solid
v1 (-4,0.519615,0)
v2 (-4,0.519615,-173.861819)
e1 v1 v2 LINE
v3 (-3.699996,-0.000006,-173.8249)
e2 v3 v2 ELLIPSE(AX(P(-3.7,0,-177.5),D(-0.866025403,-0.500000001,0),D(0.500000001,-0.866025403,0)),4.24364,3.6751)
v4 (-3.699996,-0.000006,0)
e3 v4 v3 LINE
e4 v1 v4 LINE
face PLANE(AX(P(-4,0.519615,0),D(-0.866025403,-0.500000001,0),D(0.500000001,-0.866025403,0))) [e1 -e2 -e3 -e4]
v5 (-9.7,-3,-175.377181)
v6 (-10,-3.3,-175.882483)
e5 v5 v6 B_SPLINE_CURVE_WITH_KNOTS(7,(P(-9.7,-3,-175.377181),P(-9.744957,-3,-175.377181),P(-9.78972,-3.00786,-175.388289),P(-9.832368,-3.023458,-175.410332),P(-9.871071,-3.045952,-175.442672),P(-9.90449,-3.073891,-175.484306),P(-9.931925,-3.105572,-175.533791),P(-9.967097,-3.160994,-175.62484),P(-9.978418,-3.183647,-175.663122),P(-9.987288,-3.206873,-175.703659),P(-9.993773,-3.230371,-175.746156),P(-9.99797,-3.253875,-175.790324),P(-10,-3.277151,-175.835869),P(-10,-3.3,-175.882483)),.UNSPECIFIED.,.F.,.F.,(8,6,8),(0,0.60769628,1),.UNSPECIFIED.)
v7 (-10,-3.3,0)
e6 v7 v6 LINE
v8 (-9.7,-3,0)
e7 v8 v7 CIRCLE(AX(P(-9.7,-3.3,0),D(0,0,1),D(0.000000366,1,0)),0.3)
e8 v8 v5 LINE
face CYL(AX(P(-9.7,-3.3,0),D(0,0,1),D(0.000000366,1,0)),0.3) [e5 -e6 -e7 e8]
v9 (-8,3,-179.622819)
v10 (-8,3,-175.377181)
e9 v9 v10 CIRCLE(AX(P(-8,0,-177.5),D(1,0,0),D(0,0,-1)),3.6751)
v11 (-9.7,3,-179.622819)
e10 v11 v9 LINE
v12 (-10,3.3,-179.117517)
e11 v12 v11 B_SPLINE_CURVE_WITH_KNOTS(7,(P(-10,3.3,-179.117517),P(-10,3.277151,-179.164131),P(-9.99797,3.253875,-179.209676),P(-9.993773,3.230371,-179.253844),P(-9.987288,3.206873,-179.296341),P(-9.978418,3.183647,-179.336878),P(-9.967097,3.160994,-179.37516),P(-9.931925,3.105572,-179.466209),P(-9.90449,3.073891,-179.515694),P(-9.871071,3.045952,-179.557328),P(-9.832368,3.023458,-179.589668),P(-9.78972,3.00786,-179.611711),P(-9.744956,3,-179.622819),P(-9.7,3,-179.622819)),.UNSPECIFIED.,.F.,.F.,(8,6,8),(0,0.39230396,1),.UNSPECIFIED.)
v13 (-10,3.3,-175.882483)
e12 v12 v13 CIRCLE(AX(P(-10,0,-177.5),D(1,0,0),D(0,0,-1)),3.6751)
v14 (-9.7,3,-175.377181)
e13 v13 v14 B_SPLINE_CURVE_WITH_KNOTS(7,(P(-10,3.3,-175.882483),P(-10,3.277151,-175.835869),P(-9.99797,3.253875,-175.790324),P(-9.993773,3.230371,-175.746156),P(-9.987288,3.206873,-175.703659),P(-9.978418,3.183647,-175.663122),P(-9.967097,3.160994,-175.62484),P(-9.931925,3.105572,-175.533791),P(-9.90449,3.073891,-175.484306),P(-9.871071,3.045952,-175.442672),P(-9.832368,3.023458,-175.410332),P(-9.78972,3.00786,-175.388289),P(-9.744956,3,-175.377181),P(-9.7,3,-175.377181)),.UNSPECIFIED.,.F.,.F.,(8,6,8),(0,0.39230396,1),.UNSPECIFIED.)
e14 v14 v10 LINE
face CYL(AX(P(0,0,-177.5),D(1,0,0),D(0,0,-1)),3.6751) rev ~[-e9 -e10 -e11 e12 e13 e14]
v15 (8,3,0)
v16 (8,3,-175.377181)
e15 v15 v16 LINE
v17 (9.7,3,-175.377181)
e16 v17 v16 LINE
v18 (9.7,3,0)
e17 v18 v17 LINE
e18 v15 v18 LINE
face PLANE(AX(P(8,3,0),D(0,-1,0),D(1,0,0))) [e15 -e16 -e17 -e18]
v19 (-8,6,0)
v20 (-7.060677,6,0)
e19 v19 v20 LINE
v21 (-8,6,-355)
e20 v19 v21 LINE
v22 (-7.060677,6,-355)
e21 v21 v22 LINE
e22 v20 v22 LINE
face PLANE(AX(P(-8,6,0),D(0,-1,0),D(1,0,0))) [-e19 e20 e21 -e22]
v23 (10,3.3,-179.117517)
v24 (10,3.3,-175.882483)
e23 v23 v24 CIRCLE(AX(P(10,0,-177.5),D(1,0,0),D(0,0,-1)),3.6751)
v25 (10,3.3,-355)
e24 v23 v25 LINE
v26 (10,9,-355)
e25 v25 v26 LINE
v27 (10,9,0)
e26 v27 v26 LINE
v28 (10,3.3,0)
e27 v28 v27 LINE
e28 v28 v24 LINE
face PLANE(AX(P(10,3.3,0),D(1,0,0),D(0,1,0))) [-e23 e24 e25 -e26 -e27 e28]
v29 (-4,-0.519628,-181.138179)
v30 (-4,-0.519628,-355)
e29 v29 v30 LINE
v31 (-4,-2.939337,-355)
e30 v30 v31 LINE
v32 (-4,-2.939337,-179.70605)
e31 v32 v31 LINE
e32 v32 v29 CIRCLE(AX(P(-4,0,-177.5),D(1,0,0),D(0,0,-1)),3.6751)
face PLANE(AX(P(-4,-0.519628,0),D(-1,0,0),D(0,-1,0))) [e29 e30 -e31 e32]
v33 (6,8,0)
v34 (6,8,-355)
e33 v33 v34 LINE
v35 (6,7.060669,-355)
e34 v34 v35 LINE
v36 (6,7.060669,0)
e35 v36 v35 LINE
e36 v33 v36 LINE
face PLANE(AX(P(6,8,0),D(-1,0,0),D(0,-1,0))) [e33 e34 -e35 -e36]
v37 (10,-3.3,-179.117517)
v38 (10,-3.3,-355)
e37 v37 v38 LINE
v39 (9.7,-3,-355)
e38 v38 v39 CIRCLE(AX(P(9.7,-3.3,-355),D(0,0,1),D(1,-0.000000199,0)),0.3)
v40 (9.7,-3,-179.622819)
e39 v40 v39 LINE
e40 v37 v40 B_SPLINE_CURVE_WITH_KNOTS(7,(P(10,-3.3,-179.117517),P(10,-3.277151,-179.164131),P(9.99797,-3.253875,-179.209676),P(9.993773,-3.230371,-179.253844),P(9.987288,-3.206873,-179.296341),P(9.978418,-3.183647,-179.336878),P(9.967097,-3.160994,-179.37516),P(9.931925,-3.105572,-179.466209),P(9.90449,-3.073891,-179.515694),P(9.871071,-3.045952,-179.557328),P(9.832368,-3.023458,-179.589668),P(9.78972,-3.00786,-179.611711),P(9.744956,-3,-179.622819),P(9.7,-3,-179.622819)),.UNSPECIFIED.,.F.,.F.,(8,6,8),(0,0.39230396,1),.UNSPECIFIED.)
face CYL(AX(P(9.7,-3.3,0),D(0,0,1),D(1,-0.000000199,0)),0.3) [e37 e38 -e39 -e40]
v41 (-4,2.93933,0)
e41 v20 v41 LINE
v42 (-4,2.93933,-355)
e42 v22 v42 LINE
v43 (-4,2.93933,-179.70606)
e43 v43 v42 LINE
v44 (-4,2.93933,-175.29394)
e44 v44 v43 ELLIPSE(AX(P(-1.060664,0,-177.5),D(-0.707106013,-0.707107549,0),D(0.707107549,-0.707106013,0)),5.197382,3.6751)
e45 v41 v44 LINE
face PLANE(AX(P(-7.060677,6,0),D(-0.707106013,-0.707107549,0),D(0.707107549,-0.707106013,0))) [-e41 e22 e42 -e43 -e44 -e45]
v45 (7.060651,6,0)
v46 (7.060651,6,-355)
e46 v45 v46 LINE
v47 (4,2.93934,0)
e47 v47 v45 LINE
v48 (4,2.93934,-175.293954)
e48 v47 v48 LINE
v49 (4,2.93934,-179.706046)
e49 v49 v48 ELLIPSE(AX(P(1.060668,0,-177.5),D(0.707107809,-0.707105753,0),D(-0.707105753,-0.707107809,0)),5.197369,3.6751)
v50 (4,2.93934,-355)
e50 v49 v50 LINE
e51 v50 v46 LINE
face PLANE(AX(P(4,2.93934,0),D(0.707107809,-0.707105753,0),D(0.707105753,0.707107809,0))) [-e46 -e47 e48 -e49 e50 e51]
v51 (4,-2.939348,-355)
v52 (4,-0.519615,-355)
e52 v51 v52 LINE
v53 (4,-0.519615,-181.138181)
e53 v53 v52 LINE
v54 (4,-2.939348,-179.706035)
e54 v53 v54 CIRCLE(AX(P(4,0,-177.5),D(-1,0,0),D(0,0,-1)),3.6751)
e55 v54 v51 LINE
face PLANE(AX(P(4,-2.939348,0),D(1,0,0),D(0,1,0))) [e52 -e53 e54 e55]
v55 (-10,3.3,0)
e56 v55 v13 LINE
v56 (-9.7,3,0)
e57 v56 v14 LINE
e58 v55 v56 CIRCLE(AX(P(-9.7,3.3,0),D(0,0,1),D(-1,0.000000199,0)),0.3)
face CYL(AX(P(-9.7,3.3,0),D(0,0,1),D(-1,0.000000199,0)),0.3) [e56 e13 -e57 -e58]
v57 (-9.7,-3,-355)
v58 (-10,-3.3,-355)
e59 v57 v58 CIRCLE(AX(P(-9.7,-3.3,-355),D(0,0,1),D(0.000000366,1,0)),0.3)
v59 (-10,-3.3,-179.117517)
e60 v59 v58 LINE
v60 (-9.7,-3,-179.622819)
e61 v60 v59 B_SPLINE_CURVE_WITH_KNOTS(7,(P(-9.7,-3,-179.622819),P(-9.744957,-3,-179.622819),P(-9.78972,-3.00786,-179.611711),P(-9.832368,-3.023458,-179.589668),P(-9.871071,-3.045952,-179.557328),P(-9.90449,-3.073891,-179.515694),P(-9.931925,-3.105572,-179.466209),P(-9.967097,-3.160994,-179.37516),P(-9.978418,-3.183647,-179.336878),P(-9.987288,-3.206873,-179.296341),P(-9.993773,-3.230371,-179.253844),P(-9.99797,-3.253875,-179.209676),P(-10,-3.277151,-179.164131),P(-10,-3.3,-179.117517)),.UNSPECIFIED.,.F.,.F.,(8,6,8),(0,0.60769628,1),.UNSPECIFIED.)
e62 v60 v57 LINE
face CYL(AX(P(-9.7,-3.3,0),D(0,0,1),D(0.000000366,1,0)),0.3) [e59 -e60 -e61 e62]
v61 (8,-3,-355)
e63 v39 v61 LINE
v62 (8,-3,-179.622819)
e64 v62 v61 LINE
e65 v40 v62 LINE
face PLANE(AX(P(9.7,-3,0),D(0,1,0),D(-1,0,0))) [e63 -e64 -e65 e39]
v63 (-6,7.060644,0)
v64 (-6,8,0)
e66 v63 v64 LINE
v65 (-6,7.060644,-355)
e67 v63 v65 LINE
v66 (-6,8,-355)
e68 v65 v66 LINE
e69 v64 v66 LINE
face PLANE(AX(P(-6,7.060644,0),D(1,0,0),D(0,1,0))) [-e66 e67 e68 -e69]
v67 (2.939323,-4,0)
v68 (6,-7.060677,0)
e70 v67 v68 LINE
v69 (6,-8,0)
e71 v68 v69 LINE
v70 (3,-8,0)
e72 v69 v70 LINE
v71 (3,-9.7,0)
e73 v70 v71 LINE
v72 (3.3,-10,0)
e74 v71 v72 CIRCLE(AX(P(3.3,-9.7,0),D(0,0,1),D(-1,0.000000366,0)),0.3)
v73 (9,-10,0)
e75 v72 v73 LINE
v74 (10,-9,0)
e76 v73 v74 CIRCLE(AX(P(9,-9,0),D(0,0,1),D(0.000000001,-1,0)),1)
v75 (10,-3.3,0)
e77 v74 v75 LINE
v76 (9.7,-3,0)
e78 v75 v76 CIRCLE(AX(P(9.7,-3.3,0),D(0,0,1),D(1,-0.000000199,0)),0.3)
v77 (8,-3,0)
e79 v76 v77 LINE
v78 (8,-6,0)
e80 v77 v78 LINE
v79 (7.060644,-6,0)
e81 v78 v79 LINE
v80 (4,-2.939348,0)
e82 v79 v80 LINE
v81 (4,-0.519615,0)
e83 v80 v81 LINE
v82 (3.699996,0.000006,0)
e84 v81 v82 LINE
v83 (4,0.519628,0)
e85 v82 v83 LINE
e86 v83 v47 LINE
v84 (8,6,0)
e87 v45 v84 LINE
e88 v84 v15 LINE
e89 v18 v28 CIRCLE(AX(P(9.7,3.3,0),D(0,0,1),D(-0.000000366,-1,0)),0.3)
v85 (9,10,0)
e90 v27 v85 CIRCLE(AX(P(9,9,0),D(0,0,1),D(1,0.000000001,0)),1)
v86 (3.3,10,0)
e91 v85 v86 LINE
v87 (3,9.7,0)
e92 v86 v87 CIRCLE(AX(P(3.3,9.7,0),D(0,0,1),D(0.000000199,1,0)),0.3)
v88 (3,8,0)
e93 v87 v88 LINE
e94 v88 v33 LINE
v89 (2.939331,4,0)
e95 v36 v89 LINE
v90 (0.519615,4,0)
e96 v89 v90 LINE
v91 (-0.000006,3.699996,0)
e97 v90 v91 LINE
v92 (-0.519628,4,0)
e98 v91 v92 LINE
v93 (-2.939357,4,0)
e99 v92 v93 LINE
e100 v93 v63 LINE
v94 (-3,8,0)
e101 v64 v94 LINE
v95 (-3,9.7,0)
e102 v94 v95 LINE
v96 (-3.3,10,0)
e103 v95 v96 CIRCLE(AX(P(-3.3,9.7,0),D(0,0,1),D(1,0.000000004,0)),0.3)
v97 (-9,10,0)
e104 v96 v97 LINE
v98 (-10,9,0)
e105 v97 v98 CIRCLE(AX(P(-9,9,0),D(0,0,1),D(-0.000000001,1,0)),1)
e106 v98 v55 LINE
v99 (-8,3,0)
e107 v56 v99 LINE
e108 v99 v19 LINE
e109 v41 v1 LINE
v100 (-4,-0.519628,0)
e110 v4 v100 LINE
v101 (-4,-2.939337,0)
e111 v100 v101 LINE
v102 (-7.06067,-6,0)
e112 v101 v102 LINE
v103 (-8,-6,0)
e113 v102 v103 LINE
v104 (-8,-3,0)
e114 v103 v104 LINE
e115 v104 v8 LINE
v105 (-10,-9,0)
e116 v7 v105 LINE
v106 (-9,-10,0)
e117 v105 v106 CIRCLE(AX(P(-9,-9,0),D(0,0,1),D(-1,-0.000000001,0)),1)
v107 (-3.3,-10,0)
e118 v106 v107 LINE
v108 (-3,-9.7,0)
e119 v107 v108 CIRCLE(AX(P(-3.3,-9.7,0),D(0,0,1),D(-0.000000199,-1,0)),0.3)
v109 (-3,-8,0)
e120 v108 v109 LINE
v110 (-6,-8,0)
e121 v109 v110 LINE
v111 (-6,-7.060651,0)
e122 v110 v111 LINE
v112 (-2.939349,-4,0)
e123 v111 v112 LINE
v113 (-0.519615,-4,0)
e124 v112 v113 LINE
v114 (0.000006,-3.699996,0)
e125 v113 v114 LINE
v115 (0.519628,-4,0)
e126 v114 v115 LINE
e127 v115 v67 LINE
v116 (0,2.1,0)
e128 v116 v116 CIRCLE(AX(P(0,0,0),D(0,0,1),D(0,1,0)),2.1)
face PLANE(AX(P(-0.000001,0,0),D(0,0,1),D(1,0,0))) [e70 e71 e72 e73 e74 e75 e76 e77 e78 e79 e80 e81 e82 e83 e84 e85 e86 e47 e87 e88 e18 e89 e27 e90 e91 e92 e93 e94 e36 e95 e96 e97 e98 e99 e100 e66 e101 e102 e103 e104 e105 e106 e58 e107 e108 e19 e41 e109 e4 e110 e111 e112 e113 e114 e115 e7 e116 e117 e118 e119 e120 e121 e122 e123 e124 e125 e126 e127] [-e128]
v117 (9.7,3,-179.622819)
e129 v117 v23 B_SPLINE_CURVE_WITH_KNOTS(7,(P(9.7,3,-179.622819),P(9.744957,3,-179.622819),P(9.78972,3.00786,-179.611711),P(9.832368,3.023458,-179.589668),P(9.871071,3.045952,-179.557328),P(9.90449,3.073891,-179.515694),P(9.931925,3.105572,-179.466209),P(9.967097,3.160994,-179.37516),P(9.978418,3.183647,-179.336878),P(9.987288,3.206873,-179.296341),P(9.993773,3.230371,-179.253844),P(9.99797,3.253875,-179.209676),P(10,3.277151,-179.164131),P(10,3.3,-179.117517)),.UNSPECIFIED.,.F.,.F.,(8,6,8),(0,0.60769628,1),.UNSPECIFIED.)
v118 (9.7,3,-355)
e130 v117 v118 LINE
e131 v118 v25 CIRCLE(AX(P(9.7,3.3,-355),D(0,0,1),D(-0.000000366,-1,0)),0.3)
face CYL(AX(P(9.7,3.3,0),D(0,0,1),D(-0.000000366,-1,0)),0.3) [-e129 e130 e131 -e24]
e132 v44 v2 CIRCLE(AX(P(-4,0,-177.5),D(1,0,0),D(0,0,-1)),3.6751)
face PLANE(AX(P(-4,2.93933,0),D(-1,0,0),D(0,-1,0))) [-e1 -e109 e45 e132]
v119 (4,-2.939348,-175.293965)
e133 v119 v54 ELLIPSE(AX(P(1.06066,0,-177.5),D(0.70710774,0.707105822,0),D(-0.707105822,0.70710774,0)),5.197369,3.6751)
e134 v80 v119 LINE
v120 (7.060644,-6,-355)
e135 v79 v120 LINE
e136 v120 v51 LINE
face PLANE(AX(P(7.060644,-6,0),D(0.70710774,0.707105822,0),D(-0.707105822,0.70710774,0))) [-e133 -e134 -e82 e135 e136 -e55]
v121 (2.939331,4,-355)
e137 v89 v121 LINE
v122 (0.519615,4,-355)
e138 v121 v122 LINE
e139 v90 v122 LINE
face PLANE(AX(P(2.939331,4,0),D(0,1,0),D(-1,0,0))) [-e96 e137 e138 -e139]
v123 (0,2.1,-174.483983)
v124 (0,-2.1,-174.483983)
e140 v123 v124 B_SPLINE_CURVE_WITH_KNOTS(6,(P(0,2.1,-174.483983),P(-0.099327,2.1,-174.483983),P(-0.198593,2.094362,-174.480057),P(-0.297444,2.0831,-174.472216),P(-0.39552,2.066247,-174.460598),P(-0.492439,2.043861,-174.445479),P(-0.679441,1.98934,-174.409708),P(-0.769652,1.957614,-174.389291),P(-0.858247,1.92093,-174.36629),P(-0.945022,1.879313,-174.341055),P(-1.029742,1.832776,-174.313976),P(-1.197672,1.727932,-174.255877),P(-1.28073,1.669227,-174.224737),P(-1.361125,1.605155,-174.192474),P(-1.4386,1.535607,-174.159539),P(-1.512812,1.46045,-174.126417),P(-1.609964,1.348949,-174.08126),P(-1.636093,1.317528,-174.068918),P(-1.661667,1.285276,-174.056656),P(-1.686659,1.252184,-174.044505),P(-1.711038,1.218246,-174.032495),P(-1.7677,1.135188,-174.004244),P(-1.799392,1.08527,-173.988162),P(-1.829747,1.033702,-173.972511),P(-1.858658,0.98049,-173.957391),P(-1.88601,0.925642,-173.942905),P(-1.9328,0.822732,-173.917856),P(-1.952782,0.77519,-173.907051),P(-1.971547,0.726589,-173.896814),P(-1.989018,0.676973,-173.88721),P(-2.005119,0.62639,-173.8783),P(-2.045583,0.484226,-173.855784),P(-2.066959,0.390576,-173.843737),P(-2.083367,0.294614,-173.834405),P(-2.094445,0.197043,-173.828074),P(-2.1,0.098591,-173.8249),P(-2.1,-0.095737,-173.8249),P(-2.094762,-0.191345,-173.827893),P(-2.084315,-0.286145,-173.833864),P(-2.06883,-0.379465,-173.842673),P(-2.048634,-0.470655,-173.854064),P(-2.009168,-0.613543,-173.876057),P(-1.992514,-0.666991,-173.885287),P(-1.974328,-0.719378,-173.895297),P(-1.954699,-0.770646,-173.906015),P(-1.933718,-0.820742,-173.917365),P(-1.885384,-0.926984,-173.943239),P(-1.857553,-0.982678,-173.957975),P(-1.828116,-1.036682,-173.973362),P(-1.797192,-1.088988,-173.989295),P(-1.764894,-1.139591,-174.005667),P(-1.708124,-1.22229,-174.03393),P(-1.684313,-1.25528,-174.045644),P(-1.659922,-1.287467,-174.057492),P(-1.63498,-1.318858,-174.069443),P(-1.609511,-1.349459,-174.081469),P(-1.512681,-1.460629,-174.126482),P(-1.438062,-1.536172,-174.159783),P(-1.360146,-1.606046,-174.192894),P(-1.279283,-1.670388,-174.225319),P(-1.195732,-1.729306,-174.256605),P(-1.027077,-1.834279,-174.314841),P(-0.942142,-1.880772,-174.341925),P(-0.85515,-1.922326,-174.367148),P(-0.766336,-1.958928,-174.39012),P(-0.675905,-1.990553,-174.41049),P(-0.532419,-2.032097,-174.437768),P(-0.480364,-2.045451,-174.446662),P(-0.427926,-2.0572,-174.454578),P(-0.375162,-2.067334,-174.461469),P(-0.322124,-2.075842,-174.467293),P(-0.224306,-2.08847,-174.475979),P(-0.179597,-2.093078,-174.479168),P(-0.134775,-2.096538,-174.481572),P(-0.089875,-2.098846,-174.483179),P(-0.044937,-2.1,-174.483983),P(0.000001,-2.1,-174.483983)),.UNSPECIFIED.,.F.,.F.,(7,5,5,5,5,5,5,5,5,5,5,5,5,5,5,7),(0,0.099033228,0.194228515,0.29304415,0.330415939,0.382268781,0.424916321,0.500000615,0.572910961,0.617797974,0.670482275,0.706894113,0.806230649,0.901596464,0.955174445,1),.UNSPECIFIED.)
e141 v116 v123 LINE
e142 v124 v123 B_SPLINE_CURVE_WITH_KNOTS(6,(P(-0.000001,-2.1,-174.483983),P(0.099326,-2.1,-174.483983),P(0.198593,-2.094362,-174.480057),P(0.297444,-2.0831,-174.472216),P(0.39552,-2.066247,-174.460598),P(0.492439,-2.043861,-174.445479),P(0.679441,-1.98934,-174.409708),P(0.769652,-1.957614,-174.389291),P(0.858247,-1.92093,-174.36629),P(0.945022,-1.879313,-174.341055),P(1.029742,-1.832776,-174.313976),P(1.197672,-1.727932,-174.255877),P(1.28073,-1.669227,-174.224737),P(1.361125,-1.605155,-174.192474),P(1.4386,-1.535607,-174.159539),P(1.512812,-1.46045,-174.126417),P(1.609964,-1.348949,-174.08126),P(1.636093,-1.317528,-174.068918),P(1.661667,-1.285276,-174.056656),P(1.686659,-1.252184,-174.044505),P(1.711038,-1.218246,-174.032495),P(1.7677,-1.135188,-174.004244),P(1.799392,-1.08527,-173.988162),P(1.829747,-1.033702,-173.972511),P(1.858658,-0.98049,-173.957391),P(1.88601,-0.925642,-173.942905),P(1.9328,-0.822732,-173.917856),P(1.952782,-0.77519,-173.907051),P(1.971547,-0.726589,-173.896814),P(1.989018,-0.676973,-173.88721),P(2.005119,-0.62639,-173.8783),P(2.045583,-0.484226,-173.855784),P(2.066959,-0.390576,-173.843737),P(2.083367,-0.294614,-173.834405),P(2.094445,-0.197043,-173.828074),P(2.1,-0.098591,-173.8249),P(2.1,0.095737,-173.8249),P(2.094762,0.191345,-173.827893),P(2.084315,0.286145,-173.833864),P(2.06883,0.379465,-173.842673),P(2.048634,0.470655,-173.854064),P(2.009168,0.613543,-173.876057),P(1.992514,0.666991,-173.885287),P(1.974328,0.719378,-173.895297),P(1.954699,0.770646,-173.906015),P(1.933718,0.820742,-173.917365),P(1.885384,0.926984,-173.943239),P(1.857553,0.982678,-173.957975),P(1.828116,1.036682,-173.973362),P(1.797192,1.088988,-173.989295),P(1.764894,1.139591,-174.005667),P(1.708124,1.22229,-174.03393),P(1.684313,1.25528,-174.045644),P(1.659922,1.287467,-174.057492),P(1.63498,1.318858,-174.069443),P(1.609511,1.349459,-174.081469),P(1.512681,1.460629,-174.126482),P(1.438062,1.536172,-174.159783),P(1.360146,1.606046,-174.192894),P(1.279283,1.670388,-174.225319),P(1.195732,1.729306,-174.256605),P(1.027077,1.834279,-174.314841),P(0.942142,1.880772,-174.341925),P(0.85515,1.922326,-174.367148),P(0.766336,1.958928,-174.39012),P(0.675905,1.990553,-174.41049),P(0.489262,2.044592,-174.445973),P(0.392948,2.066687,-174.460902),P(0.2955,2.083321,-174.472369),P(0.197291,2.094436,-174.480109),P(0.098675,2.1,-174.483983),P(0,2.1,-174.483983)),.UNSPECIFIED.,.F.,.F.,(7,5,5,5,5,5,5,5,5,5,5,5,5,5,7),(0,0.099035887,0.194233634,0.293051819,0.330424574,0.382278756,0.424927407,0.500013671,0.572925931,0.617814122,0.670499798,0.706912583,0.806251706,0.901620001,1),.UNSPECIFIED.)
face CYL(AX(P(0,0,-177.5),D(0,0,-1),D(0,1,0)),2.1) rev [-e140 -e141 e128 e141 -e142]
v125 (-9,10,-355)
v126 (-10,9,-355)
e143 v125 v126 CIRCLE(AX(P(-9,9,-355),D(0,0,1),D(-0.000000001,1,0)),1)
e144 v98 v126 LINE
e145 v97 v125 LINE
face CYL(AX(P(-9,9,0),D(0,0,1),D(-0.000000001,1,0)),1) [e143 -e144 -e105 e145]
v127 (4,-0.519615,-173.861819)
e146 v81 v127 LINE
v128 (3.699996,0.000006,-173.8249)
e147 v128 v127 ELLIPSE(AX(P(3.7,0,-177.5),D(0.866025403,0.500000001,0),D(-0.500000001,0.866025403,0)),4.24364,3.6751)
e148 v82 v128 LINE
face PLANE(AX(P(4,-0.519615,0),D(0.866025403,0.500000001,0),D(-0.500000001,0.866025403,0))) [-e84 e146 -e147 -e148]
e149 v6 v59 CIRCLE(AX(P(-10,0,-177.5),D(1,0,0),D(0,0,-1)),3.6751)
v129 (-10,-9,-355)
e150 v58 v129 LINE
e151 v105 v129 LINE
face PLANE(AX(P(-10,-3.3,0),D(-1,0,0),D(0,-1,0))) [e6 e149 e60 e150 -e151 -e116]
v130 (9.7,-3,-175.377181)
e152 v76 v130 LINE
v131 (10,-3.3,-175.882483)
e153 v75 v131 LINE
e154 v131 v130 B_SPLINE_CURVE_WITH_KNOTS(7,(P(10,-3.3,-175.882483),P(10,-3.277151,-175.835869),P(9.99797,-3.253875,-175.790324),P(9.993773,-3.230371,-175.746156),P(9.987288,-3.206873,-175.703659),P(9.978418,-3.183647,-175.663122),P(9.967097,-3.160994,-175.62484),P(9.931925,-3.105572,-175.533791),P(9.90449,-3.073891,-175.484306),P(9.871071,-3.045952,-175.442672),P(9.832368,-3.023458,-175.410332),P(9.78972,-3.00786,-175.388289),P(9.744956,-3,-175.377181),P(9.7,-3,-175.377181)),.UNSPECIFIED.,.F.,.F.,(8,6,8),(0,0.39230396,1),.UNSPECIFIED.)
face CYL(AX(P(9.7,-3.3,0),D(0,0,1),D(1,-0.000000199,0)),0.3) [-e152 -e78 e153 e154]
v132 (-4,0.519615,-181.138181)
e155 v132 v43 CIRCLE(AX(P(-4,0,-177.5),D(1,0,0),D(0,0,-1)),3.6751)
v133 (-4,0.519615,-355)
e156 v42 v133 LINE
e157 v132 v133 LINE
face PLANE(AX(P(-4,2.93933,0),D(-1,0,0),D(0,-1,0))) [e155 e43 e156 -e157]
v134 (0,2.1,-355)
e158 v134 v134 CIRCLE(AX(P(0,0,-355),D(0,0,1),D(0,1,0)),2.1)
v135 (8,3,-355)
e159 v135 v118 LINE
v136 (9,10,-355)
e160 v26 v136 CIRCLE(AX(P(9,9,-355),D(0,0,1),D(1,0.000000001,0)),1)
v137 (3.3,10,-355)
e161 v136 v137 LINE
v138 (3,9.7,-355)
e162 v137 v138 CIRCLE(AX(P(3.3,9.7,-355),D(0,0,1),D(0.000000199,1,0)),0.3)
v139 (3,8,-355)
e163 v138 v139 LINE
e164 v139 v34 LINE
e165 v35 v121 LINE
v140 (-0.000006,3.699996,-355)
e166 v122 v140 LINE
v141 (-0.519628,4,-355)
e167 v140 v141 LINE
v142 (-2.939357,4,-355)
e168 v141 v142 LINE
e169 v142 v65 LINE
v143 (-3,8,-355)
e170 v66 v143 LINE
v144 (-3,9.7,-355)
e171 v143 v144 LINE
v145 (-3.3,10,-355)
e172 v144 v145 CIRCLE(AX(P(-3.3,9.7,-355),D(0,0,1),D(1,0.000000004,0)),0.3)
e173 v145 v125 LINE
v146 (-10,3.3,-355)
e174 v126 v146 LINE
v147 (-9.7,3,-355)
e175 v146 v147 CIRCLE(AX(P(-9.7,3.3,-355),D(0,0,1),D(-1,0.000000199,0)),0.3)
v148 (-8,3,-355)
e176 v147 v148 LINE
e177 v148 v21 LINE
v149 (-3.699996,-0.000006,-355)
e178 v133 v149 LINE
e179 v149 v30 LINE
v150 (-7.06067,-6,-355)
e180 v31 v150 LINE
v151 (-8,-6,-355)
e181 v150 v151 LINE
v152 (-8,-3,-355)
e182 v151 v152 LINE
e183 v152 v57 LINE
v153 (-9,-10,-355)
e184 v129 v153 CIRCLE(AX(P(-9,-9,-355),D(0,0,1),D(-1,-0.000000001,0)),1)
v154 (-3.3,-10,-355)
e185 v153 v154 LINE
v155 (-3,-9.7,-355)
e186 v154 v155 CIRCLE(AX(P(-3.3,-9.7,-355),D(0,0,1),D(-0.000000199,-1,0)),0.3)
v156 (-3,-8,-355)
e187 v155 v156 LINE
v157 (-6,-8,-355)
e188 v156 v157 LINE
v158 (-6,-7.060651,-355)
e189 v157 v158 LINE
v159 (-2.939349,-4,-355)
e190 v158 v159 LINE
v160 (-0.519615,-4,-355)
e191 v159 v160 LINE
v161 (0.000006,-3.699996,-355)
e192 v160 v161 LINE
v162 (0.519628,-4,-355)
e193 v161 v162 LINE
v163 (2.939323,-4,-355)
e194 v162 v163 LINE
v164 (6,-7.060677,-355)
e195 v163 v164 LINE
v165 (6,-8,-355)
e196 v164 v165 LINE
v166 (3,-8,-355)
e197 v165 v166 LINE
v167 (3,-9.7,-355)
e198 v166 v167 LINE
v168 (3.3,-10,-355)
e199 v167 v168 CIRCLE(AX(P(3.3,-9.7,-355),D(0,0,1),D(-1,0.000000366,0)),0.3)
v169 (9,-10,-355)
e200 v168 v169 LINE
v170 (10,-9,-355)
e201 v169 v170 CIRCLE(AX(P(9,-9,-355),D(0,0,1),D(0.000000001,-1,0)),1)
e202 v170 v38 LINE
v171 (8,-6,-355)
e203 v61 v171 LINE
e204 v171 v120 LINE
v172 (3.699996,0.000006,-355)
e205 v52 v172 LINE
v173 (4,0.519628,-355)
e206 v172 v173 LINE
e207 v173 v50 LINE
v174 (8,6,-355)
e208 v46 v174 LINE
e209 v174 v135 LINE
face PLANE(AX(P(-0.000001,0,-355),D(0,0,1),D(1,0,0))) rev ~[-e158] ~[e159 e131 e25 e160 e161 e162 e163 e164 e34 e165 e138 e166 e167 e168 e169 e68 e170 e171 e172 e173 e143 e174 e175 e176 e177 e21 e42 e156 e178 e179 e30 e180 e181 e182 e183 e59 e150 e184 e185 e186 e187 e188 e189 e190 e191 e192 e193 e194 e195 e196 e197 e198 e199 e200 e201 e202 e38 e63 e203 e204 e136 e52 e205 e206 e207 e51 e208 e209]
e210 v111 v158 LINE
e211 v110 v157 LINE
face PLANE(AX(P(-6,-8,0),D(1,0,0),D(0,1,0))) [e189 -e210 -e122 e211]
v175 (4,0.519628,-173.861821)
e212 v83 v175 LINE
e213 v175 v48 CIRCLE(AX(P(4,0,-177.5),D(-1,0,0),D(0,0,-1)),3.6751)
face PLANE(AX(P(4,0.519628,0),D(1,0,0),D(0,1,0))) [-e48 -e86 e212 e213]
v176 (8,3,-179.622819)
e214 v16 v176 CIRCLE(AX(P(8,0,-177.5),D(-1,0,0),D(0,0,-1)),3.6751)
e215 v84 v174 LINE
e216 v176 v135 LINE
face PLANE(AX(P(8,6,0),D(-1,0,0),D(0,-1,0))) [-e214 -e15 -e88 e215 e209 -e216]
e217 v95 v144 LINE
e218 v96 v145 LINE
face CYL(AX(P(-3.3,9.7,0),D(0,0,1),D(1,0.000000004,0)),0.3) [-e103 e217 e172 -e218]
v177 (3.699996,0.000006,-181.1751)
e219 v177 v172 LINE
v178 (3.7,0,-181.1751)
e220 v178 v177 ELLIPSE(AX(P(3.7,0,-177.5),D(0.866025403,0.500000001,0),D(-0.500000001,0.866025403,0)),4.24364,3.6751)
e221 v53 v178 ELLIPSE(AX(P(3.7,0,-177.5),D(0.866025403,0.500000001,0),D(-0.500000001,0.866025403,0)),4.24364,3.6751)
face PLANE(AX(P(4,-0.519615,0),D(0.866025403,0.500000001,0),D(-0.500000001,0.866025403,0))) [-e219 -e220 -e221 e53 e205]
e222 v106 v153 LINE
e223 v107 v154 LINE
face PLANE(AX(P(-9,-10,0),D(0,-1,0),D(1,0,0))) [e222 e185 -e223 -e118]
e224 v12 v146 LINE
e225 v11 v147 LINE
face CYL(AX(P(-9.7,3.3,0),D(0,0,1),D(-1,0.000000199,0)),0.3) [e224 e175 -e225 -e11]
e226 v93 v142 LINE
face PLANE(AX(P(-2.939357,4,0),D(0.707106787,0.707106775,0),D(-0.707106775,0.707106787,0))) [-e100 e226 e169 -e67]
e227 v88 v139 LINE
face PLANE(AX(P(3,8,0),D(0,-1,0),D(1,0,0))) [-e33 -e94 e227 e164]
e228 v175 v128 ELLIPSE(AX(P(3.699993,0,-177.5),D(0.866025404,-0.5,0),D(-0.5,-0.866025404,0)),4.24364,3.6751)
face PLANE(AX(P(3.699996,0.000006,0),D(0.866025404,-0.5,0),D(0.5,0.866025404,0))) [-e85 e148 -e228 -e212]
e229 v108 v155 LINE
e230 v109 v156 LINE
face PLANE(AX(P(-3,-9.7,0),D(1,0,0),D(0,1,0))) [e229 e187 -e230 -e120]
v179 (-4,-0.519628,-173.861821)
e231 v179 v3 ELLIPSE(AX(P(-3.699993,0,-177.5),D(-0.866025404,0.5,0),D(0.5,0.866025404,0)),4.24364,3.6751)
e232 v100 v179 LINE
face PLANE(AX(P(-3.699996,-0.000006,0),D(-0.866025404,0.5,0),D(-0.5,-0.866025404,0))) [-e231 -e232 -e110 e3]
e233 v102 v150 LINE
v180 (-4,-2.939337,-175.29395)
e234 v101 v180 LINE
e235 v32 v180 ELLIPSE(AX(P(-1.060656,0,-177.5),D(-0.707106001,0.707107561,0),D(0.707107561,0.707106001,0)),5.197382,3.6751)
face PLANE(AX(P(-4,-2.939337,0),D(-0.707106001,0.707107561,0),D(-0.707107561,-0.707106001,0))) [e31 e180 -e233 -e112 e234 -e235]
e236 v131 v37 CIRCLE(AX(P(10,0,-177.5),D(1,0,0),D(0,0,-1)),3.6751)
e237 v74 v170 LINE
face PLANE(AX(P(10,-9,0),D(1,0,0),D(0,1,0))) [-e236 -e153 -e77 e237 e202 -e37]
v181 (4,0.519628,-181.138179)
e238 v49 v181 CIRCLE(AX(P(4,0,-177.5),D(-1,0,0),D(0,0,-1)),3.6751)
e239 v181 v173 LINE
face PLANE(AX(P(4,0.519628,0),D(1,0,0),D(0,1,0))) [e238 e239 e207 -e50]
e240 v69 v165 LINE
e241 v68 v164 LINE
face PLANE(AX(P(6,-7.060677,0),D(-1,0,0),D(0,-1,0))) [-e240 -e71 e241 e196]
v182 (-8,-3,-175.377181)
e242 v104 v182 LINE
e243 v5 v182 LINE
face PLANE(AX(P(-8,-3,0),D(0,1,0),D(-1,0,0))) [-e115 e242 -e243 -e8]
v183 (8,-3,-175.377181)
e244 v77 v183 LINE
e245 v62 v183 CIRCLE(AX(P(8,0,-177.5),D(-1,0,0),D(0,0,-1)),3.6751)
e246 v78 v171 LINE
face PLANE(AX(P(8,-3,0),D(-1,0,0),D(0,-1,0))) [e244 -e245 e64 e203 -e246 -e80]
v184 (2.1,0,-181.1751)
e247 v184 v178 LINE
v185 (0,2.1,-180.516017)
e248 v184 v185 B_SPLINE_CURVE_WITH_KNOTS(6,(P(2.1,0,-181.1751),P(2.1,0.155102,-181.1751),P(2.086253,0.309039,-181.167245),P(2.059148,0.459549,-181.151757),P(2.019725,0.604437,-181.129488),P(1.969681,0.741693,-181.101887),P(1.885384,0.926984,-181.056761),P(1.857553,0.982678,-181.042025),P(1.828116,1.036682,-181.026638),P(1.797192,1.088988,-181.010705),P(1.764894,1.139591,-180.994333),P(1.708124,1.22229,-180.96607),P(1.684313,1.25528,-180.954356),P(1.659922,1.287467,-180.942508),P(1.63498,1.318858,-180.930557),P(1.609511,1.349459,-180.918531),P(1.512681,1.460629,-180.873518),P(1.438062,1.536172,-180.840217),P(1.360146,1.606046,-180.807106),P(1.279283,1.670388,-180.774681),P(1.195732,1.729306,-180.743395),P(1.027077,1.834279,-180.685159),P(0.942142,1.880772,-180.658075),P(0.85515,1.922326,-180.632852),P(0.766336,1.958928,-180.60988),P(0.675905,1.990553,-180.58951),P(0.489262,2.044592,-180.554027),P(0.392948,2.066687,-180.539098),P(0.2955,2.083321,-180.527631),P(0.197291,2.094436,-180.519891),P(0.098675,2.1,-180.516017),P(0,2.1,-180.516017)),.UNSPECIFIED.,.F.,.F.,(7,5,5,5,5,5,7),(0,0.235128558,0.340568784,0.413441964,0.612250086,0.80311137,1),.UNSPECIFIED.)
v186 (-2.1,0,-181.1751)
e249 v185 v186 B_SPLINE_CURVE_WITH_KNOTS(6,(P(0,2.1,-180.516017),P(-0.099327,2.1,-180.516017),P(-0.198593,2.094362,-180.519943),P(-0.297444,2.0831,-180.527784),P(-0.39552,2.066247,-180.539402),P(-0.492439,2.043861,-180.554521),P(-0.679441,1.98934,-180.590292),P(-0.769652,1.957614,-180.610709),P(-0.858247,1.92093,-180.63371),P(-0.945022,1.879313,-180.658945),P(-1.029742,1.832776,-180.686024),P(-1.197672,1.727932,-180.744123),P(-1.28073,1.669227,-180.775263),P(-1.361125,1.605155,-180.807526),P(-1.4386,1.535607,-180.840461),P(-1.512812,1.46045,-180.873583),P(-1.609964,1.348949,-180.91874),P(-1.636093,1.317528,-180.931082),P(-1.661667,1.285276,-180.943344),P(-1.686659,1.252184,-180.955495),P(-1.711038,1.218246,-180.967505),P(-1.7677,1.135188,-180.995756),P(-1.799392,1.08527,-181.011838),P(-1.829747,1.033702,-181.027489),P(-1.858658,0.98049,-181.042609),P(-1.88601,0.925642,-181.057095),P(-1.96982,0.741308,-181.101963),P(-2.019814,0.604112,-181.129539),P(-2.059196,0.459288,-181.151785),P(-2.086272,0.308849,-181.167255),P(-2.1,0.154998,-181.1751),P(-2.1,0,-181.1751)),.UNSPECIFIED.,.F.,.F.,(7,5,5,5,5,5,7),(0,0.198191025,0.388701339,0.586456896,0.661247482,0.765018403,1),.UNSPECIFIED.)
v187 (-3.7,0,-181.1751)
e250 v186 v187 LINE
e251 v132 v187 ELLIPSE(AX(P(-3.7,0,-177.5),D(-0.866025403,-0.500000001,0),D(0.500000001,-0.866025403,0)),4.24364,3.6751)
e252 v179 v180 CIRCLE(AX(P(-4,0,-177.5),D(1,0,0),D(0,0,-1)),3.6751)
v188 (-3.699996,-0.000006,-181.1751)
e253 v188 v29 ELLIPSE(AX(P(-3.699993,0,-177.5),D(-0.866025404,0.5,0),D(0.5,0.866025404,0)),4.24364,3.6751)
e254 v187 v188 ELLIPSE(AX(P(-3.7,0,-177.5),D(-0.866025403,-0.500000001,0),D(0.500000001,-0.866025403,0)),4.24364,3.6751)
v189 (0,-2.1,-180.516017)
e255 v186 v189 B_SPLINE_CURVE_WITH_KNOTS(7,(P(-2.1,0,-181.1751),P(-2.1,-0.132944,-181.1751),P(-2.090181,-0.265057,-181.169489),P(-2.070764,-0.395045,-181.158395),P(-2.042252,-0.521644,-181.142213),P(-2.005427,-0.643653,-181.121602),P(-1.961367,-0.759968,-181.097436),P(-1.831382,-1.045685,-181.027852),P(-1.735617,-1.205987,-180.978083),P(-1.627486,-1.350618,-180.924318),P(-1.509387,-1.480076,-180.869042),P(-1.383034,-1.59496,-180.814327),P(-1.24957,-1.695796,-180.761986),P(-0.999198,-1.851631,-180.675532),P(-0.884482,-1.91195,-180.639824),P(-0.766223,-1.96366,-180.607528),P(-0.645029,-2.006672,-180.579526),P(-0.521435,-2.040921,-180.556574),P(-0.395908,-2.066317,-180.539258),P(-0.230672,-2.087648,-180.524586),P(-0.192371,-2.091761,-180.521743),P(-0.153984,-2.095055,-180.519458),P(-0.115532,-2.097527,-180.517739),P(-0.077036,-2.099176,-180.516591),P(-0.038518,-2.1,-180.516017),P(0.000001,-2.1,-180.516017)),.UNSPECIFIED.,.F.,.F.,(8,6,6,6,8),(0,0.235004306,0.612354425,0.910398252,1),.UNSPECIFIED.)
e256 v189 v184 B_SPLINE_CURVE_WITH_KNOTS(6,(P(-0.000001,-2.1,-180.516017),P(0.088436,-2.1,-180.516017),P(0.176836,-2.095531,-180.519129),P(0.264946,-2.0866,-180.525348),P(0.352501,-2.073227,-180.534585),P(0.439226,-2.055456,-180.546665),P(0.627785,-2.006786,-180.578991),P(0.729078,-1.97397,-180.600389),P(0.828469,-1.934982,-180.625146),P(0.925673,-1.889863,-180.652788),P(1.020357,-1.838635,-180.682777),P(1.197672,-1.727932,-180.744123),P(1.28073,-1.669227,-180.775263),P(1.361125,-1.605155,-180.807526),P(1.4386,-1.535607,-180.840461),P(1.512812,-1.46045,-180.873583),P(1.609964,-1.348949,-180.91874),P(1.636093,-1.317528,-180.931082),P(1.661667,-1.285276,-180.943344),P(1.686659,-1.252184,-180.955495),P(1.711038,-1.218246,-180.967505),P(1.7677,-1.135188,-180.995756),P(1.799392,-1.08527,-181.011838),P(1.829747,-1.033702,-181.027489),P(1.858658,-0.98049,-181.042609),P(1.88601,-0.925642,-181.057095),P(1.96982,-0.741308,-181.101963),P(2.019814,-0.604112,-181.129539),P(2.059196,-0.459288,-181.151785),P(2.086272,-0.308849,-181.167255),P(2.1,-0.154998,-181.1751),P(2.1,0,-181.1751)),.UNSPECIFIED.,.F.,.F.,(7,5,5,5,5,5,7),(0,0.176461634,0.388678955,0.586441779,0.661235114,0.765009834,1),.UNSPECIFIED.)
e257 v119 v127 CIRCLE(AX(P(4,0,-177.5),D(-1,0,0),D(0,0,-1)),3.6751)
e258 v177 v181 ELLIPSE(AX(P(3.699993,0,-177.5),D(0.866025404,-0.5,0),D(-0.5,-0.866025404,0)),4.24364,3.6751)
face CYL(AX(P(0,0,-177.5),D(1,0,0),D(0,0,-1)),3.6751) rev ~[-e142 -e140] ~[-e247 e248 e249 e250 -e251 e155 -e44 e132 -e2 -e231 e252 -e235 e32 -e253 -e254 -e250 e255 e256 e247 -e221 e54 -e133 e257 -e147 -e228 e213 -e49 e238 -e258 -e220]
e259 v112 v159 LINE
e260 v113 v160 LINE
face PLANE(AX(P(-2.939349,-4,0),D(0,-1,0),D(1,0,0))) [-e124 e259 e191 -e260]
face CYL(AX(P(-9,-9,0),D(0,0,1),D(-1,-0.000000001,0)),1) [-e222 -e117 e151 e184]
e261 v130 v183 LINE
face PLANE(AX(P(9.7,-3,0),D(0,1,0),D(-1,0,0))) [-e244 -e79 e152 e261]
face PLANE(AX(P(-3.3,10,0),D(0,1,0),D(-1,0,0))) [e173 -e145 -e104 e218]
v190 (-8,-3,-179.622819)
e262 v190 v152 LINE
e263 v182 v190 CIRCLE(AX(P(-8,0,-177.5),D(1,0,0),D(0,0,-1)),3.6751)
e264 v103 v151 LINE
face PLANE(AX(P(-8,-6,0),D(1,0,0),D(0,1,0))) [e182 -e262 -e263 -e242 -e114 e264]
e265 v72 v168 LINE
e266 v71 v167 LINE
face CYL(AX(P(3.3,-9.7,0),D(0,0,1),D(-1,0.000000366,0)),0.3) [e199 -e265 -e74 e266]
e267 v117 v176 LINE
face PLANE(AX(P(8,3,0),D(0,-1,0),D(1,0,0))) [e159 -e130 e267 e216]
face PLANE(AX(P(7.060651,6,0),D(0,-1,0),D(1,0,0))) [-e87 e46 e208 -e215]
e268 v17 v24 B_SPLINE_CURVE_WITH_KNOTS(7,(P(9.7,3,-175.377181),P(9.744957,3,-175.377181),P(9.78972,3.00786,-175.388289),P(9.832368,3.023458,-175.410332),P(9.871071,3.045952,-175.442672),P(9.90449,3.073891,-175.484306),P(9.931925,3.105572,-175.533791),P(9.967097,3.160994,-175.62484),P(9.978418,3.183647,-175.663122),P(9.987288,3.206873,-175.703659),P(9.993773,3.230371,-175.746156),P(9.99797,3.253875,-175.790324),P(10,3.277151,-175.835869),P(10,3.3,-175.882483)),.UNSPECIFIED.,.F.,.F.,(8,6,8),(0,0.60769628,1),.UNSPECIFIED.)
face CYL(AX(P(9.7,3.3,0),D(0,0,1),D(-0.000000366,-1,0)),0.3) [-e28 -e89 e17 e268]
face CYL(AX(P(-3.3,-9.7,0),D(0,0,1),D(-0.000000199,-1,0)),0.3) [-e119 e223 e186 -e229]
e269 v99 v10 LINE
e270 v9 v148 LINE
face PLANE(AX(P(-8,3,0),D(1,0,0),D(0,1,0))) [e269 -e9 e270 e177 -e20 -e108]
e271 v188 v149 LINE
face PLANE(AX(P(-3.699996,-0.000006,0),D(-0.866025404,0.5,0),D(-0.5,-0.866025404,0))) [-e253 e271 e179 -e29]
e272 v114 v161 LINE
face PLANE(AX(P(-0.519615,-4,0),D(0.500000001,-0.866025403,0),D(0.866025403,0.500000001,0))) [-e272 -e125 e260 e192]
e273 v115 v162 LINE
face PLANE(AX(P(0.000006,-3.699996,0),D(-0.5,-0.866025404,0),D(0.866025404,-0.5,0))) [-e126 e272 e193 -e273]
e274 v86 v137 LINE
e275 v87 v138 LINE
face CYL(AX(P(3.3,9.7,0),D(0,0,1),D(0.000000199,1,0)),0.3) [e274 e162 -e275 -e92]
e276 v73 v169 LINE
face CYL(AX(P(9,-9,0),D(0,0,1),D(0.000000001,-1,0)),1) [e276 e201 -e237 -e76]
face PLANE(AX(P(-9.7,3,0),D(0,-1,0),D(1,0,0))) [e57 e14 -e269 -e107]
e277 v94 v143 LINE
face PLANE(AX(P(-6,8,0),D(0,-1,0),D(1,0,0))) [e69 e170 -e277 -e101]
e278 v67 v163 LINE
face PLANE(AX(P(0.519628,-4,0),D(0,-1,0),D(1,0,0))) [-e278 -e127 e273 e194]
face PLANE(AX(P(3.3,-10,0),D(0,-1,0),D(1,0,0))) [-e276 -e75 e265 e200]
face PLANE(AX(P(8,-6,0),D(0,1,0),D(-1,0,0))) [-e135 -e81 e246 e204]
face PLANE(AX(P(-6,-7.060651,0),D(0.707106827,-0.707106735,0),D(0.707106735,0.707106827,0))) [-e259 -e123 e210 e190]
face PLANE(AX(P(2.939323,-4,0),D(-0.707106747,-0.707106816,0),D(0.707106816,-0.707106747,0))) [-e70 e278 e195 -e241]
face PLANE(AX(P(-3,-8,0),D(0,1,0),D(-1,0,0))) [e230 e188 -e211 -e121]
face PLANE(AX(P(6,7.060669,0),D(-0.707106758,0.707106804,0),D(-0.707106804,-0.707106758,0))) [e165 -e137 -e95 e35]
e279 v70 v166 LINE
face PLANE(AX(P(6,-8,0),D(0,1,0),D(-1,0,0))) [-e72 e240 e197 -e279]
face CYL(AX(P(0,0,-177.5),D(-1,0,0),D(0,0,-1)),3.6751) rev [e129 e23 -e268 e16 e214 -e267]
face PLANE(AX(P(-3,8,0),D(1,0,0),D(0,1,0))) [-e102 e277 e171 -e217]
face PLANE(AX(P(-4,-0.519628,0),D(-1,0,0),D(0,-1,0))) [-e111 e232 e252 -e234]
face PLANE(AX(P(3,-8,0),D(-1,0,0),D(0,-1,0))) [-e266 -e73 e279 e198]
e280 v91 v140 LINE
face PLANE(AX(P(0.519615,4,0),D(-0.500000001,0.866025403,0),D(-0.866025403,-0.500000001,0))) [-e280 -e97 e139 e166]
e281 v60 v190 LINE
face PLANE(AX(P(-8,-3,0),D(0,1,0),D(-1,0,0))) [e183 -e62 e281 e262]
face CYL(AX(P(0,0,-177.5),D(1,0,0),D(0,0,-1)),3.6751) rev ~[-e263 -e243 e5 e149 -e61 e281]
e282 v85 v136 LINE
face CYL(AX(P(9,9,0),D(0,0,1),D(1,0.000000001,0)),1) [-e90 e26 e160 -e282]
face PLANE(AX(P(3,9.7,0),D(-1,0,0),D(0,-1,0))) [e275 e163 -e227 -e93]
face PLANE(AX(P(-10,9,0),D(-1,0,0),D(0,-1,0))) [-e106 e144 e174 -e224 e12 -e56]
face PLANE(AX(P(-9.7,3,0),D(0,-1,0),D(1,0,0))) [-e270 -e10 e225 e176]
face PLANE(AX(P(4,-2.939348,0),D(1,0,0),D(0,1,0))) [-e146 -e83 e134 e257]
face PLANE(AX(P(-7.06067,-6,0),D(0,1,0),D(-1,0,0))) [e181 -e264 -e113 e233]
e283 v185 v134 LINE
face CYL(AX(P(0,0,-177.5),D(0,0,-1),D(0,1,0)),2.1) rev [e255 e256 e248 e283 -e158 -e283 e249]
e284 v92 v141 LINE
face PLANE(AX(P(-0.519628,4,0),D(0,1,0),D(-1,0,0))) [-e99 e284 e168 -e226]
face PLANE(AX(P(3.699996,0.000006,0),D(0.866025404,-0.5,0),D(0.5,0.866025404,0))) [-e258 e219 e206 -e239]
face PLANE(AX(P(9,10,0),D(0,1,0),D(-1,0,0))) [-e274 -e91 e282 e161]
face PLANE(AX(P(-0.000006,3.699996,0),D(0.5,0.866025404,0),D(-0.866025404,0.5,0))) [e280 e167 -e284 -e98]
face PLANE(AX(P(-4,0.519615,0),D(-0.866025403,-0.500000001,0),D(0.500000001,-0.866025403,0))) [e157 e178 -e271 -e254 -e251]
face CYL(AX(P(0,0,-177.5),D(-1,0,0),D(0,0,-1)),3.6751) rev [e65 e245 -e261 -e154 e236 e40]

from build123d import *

# Parameters (mm, degrees)
BOSS_EXTRUDE1_DEPTH     = 355
SKETCH2_W               = 355
SKETCH2_H               = 2.1
SKETCH3_R               = 3.6751
CUT_EXTRUDE1_DEPTH      = 10
CUT_EXTRUDE1_DEPTH_BACK = 10


with BuildPart() as part:
    # Sketch1 → Boss-Extrude1 (new body)
    with BuildSketch(Plane.XY):
        with BuildLine():
            Line((-10, 9), (-10, 3.29999995))
            ThreePointArc((-10, 3.29999995), (-9.912132049, 3.087867916), (-9.7, 3))
            Line((-9.7, 3), (-8, 3))
            Line((-8, 3), (-8, 6))
            Line((-8, 6), (-7.060677, 6))
            Line((-7.060677, 6), (-4, 2.93932965))
            Line((-4, 2.93932965), (-4, 0.519615242))
            Line((-4, 0.519615242), (-3.699996283, -6.437e-06))
            Line((-3.699996283, -6.437e-06), (-4, -0.519628117))
            Line((-4, -0.519628117), (-4, -2.93933725))
            Line((-4, -2.93933725), (-7.0606695, -6))
            Line((-7.0606695, -6), (-8, -6))
            Line((-8, -6), (-8, -3))
            Line((-8, -3), (-9.7, -3))
            ThreePointArc((-9.7, -3), (-9.912132049, -3.087867916), (-10, -3.29999995))
            Line((-10, -3.29999995), (-10, -9))
            ThreePointArc((-10, -9), (-9.707106781, -9.707106781), (-9, -10))
            Line((-9, -10), (-3.29999995, -10))
            ThreePointArc((-3.29999995, -10), (-3.087867916, -9.912132049), (-3, -9.7))
            Line((-3, -9.7), (-3, -8))
            Line((-3, -8), (-6, -8))
            Line((-6, -8), (-6, -7.0606515))
            Line((-6, -7.0606515), (-2.9393489, -4))
            Line((-2.9393489, -4), (-0.519615242, -4))
            Line((-0.519615242, -4), (6.437e-06, -3.699996283))
            Line((6.437e-06, -3.699996283), (0.519628117, -4))
            Line((0.519628117, -4), (2.9393227, -4))
            Line((2.9393227, -4), (6, -7.060677))
            Line((6, -7.060677), (6, -8))
            Line((6, -8), (3, -8))
            Line((3, -8), (3, -9.7))
            ThreePointArc((3, -9.7), (3.087867916, -9.912132049), (3.29999995, -10))
            Line((3.29999995, -10), (9, -10))
            ThreePointArc((9, -10), (9.707106781, -9.707106781), (10, -9))
            Line((10, -9), (10, -3.29999995))
            ThreePointArc((10, -3.29999995), (9.912132049, -3.087867916), (9.7, -3))
            Line((9.7, -3), (8, -3))
            Line((8, -3), (8, -6))
            Line((8, -6), (7.0606435, -6))
            Line((7.0606435, -6), (4, -2.9393482))
            Line((4, -2.9393482), (4, -0.519615242))
            Line((4, -0.519615242), (3.699996283, 6.437e-06))
            Line((3.699996283, 6.437e-06), (4, 0.519628117))
            Line((4, 0.519628117), (4, 2.9393401))
            Line((4, 2.9393401), (7.060651, 6))
            Line((7.060651, 6), (8, 6))
            Line((8, 6), (8, 3))
            Line((8, 3), (9.7, 3))
            ThreePointArc((9.7, 3), (9.912132049, 3.087867916), (10, 3.29999995))
            Line((10, 3.29999995), (10, 9))
            ThreePointArc((10, 9), (9.707106781, 9.707106781), (9, 10))
            Line((9, 10), (3.29999995, 10))
            ThreePointArc((3.29999995, 10), (3.087867916, 9.912132049), (3, 9.7))
            Line((3, 9.7), (3, 8))
            Line((3, 8), (6, 8))
            Line((6, 8), (6, 7.060669))
            Line((6, 7.060669), (2.9393308, 4))
            Line((2.9393308, 4), (0.519615242, 4))
            Line((0.519615242, 4), (-6.437e-06, 3.699996283))
            Line((-6.437e-06, 3.699996283), (-0.519628117, 4))
            Line((-0.519628117, 4), (-2.93935655, 4))
            Line((-2.93935655, 4), (-6, 7.0606435))
            Line((-6, 7.0606435), (-6, 8))
            Line((-6, 8), (-3, 8))
            Line((-3, 8), (-3, 9.7))
            ThreePointArc((-3, 9.7), (-3.087867966, 9.912132034), (-3.3, 10))
            Line((-3.3, 10), (-9, 10))
            ThreePointArc((-9, 10), (-9.707106781, 9.707106781), (-10, 9))
        make_face()
    extrude(amount=-BOSS_EXTRUDE1_DEPTH)

    # Sketch2 → Cut-Revolve1 (revolve, cut)
    with BuildSketch(Plane(origin=(0, 0, 0), x_dir=(0, 0, -1), z_dir=(1, 0, 0))):
        with Locations((177.5, 1.05)):
            Rectangle(SKETCH2_W, SKETCH2_H)
    revolve(axis=Axis((0, 0, -355), (0, 0, 1)), mode=Mode.SUBTRACT)

    # Sketch3 → Cut-Extrude1 (cut, two sides)
    with BuildSketch(Plane(origin=(0, 0, 0), x_dir=(0, 0, -1), z_dir=(1, 0, 0))) as cut_extrude1_sk:
        with Locations((177.5, 0)):
            Circle(SKETCH3_R)
    extrude(amount=CUT_EXTRUDE1_DEPTH, mode=Mode.SUBTRACT)
    extrude(cut_extrude1_sk.sketch, amount=-CUT_EXTRUDE1_DEPTH_BACK, mode=Mode.SUBTRACT)


solid = part.part
